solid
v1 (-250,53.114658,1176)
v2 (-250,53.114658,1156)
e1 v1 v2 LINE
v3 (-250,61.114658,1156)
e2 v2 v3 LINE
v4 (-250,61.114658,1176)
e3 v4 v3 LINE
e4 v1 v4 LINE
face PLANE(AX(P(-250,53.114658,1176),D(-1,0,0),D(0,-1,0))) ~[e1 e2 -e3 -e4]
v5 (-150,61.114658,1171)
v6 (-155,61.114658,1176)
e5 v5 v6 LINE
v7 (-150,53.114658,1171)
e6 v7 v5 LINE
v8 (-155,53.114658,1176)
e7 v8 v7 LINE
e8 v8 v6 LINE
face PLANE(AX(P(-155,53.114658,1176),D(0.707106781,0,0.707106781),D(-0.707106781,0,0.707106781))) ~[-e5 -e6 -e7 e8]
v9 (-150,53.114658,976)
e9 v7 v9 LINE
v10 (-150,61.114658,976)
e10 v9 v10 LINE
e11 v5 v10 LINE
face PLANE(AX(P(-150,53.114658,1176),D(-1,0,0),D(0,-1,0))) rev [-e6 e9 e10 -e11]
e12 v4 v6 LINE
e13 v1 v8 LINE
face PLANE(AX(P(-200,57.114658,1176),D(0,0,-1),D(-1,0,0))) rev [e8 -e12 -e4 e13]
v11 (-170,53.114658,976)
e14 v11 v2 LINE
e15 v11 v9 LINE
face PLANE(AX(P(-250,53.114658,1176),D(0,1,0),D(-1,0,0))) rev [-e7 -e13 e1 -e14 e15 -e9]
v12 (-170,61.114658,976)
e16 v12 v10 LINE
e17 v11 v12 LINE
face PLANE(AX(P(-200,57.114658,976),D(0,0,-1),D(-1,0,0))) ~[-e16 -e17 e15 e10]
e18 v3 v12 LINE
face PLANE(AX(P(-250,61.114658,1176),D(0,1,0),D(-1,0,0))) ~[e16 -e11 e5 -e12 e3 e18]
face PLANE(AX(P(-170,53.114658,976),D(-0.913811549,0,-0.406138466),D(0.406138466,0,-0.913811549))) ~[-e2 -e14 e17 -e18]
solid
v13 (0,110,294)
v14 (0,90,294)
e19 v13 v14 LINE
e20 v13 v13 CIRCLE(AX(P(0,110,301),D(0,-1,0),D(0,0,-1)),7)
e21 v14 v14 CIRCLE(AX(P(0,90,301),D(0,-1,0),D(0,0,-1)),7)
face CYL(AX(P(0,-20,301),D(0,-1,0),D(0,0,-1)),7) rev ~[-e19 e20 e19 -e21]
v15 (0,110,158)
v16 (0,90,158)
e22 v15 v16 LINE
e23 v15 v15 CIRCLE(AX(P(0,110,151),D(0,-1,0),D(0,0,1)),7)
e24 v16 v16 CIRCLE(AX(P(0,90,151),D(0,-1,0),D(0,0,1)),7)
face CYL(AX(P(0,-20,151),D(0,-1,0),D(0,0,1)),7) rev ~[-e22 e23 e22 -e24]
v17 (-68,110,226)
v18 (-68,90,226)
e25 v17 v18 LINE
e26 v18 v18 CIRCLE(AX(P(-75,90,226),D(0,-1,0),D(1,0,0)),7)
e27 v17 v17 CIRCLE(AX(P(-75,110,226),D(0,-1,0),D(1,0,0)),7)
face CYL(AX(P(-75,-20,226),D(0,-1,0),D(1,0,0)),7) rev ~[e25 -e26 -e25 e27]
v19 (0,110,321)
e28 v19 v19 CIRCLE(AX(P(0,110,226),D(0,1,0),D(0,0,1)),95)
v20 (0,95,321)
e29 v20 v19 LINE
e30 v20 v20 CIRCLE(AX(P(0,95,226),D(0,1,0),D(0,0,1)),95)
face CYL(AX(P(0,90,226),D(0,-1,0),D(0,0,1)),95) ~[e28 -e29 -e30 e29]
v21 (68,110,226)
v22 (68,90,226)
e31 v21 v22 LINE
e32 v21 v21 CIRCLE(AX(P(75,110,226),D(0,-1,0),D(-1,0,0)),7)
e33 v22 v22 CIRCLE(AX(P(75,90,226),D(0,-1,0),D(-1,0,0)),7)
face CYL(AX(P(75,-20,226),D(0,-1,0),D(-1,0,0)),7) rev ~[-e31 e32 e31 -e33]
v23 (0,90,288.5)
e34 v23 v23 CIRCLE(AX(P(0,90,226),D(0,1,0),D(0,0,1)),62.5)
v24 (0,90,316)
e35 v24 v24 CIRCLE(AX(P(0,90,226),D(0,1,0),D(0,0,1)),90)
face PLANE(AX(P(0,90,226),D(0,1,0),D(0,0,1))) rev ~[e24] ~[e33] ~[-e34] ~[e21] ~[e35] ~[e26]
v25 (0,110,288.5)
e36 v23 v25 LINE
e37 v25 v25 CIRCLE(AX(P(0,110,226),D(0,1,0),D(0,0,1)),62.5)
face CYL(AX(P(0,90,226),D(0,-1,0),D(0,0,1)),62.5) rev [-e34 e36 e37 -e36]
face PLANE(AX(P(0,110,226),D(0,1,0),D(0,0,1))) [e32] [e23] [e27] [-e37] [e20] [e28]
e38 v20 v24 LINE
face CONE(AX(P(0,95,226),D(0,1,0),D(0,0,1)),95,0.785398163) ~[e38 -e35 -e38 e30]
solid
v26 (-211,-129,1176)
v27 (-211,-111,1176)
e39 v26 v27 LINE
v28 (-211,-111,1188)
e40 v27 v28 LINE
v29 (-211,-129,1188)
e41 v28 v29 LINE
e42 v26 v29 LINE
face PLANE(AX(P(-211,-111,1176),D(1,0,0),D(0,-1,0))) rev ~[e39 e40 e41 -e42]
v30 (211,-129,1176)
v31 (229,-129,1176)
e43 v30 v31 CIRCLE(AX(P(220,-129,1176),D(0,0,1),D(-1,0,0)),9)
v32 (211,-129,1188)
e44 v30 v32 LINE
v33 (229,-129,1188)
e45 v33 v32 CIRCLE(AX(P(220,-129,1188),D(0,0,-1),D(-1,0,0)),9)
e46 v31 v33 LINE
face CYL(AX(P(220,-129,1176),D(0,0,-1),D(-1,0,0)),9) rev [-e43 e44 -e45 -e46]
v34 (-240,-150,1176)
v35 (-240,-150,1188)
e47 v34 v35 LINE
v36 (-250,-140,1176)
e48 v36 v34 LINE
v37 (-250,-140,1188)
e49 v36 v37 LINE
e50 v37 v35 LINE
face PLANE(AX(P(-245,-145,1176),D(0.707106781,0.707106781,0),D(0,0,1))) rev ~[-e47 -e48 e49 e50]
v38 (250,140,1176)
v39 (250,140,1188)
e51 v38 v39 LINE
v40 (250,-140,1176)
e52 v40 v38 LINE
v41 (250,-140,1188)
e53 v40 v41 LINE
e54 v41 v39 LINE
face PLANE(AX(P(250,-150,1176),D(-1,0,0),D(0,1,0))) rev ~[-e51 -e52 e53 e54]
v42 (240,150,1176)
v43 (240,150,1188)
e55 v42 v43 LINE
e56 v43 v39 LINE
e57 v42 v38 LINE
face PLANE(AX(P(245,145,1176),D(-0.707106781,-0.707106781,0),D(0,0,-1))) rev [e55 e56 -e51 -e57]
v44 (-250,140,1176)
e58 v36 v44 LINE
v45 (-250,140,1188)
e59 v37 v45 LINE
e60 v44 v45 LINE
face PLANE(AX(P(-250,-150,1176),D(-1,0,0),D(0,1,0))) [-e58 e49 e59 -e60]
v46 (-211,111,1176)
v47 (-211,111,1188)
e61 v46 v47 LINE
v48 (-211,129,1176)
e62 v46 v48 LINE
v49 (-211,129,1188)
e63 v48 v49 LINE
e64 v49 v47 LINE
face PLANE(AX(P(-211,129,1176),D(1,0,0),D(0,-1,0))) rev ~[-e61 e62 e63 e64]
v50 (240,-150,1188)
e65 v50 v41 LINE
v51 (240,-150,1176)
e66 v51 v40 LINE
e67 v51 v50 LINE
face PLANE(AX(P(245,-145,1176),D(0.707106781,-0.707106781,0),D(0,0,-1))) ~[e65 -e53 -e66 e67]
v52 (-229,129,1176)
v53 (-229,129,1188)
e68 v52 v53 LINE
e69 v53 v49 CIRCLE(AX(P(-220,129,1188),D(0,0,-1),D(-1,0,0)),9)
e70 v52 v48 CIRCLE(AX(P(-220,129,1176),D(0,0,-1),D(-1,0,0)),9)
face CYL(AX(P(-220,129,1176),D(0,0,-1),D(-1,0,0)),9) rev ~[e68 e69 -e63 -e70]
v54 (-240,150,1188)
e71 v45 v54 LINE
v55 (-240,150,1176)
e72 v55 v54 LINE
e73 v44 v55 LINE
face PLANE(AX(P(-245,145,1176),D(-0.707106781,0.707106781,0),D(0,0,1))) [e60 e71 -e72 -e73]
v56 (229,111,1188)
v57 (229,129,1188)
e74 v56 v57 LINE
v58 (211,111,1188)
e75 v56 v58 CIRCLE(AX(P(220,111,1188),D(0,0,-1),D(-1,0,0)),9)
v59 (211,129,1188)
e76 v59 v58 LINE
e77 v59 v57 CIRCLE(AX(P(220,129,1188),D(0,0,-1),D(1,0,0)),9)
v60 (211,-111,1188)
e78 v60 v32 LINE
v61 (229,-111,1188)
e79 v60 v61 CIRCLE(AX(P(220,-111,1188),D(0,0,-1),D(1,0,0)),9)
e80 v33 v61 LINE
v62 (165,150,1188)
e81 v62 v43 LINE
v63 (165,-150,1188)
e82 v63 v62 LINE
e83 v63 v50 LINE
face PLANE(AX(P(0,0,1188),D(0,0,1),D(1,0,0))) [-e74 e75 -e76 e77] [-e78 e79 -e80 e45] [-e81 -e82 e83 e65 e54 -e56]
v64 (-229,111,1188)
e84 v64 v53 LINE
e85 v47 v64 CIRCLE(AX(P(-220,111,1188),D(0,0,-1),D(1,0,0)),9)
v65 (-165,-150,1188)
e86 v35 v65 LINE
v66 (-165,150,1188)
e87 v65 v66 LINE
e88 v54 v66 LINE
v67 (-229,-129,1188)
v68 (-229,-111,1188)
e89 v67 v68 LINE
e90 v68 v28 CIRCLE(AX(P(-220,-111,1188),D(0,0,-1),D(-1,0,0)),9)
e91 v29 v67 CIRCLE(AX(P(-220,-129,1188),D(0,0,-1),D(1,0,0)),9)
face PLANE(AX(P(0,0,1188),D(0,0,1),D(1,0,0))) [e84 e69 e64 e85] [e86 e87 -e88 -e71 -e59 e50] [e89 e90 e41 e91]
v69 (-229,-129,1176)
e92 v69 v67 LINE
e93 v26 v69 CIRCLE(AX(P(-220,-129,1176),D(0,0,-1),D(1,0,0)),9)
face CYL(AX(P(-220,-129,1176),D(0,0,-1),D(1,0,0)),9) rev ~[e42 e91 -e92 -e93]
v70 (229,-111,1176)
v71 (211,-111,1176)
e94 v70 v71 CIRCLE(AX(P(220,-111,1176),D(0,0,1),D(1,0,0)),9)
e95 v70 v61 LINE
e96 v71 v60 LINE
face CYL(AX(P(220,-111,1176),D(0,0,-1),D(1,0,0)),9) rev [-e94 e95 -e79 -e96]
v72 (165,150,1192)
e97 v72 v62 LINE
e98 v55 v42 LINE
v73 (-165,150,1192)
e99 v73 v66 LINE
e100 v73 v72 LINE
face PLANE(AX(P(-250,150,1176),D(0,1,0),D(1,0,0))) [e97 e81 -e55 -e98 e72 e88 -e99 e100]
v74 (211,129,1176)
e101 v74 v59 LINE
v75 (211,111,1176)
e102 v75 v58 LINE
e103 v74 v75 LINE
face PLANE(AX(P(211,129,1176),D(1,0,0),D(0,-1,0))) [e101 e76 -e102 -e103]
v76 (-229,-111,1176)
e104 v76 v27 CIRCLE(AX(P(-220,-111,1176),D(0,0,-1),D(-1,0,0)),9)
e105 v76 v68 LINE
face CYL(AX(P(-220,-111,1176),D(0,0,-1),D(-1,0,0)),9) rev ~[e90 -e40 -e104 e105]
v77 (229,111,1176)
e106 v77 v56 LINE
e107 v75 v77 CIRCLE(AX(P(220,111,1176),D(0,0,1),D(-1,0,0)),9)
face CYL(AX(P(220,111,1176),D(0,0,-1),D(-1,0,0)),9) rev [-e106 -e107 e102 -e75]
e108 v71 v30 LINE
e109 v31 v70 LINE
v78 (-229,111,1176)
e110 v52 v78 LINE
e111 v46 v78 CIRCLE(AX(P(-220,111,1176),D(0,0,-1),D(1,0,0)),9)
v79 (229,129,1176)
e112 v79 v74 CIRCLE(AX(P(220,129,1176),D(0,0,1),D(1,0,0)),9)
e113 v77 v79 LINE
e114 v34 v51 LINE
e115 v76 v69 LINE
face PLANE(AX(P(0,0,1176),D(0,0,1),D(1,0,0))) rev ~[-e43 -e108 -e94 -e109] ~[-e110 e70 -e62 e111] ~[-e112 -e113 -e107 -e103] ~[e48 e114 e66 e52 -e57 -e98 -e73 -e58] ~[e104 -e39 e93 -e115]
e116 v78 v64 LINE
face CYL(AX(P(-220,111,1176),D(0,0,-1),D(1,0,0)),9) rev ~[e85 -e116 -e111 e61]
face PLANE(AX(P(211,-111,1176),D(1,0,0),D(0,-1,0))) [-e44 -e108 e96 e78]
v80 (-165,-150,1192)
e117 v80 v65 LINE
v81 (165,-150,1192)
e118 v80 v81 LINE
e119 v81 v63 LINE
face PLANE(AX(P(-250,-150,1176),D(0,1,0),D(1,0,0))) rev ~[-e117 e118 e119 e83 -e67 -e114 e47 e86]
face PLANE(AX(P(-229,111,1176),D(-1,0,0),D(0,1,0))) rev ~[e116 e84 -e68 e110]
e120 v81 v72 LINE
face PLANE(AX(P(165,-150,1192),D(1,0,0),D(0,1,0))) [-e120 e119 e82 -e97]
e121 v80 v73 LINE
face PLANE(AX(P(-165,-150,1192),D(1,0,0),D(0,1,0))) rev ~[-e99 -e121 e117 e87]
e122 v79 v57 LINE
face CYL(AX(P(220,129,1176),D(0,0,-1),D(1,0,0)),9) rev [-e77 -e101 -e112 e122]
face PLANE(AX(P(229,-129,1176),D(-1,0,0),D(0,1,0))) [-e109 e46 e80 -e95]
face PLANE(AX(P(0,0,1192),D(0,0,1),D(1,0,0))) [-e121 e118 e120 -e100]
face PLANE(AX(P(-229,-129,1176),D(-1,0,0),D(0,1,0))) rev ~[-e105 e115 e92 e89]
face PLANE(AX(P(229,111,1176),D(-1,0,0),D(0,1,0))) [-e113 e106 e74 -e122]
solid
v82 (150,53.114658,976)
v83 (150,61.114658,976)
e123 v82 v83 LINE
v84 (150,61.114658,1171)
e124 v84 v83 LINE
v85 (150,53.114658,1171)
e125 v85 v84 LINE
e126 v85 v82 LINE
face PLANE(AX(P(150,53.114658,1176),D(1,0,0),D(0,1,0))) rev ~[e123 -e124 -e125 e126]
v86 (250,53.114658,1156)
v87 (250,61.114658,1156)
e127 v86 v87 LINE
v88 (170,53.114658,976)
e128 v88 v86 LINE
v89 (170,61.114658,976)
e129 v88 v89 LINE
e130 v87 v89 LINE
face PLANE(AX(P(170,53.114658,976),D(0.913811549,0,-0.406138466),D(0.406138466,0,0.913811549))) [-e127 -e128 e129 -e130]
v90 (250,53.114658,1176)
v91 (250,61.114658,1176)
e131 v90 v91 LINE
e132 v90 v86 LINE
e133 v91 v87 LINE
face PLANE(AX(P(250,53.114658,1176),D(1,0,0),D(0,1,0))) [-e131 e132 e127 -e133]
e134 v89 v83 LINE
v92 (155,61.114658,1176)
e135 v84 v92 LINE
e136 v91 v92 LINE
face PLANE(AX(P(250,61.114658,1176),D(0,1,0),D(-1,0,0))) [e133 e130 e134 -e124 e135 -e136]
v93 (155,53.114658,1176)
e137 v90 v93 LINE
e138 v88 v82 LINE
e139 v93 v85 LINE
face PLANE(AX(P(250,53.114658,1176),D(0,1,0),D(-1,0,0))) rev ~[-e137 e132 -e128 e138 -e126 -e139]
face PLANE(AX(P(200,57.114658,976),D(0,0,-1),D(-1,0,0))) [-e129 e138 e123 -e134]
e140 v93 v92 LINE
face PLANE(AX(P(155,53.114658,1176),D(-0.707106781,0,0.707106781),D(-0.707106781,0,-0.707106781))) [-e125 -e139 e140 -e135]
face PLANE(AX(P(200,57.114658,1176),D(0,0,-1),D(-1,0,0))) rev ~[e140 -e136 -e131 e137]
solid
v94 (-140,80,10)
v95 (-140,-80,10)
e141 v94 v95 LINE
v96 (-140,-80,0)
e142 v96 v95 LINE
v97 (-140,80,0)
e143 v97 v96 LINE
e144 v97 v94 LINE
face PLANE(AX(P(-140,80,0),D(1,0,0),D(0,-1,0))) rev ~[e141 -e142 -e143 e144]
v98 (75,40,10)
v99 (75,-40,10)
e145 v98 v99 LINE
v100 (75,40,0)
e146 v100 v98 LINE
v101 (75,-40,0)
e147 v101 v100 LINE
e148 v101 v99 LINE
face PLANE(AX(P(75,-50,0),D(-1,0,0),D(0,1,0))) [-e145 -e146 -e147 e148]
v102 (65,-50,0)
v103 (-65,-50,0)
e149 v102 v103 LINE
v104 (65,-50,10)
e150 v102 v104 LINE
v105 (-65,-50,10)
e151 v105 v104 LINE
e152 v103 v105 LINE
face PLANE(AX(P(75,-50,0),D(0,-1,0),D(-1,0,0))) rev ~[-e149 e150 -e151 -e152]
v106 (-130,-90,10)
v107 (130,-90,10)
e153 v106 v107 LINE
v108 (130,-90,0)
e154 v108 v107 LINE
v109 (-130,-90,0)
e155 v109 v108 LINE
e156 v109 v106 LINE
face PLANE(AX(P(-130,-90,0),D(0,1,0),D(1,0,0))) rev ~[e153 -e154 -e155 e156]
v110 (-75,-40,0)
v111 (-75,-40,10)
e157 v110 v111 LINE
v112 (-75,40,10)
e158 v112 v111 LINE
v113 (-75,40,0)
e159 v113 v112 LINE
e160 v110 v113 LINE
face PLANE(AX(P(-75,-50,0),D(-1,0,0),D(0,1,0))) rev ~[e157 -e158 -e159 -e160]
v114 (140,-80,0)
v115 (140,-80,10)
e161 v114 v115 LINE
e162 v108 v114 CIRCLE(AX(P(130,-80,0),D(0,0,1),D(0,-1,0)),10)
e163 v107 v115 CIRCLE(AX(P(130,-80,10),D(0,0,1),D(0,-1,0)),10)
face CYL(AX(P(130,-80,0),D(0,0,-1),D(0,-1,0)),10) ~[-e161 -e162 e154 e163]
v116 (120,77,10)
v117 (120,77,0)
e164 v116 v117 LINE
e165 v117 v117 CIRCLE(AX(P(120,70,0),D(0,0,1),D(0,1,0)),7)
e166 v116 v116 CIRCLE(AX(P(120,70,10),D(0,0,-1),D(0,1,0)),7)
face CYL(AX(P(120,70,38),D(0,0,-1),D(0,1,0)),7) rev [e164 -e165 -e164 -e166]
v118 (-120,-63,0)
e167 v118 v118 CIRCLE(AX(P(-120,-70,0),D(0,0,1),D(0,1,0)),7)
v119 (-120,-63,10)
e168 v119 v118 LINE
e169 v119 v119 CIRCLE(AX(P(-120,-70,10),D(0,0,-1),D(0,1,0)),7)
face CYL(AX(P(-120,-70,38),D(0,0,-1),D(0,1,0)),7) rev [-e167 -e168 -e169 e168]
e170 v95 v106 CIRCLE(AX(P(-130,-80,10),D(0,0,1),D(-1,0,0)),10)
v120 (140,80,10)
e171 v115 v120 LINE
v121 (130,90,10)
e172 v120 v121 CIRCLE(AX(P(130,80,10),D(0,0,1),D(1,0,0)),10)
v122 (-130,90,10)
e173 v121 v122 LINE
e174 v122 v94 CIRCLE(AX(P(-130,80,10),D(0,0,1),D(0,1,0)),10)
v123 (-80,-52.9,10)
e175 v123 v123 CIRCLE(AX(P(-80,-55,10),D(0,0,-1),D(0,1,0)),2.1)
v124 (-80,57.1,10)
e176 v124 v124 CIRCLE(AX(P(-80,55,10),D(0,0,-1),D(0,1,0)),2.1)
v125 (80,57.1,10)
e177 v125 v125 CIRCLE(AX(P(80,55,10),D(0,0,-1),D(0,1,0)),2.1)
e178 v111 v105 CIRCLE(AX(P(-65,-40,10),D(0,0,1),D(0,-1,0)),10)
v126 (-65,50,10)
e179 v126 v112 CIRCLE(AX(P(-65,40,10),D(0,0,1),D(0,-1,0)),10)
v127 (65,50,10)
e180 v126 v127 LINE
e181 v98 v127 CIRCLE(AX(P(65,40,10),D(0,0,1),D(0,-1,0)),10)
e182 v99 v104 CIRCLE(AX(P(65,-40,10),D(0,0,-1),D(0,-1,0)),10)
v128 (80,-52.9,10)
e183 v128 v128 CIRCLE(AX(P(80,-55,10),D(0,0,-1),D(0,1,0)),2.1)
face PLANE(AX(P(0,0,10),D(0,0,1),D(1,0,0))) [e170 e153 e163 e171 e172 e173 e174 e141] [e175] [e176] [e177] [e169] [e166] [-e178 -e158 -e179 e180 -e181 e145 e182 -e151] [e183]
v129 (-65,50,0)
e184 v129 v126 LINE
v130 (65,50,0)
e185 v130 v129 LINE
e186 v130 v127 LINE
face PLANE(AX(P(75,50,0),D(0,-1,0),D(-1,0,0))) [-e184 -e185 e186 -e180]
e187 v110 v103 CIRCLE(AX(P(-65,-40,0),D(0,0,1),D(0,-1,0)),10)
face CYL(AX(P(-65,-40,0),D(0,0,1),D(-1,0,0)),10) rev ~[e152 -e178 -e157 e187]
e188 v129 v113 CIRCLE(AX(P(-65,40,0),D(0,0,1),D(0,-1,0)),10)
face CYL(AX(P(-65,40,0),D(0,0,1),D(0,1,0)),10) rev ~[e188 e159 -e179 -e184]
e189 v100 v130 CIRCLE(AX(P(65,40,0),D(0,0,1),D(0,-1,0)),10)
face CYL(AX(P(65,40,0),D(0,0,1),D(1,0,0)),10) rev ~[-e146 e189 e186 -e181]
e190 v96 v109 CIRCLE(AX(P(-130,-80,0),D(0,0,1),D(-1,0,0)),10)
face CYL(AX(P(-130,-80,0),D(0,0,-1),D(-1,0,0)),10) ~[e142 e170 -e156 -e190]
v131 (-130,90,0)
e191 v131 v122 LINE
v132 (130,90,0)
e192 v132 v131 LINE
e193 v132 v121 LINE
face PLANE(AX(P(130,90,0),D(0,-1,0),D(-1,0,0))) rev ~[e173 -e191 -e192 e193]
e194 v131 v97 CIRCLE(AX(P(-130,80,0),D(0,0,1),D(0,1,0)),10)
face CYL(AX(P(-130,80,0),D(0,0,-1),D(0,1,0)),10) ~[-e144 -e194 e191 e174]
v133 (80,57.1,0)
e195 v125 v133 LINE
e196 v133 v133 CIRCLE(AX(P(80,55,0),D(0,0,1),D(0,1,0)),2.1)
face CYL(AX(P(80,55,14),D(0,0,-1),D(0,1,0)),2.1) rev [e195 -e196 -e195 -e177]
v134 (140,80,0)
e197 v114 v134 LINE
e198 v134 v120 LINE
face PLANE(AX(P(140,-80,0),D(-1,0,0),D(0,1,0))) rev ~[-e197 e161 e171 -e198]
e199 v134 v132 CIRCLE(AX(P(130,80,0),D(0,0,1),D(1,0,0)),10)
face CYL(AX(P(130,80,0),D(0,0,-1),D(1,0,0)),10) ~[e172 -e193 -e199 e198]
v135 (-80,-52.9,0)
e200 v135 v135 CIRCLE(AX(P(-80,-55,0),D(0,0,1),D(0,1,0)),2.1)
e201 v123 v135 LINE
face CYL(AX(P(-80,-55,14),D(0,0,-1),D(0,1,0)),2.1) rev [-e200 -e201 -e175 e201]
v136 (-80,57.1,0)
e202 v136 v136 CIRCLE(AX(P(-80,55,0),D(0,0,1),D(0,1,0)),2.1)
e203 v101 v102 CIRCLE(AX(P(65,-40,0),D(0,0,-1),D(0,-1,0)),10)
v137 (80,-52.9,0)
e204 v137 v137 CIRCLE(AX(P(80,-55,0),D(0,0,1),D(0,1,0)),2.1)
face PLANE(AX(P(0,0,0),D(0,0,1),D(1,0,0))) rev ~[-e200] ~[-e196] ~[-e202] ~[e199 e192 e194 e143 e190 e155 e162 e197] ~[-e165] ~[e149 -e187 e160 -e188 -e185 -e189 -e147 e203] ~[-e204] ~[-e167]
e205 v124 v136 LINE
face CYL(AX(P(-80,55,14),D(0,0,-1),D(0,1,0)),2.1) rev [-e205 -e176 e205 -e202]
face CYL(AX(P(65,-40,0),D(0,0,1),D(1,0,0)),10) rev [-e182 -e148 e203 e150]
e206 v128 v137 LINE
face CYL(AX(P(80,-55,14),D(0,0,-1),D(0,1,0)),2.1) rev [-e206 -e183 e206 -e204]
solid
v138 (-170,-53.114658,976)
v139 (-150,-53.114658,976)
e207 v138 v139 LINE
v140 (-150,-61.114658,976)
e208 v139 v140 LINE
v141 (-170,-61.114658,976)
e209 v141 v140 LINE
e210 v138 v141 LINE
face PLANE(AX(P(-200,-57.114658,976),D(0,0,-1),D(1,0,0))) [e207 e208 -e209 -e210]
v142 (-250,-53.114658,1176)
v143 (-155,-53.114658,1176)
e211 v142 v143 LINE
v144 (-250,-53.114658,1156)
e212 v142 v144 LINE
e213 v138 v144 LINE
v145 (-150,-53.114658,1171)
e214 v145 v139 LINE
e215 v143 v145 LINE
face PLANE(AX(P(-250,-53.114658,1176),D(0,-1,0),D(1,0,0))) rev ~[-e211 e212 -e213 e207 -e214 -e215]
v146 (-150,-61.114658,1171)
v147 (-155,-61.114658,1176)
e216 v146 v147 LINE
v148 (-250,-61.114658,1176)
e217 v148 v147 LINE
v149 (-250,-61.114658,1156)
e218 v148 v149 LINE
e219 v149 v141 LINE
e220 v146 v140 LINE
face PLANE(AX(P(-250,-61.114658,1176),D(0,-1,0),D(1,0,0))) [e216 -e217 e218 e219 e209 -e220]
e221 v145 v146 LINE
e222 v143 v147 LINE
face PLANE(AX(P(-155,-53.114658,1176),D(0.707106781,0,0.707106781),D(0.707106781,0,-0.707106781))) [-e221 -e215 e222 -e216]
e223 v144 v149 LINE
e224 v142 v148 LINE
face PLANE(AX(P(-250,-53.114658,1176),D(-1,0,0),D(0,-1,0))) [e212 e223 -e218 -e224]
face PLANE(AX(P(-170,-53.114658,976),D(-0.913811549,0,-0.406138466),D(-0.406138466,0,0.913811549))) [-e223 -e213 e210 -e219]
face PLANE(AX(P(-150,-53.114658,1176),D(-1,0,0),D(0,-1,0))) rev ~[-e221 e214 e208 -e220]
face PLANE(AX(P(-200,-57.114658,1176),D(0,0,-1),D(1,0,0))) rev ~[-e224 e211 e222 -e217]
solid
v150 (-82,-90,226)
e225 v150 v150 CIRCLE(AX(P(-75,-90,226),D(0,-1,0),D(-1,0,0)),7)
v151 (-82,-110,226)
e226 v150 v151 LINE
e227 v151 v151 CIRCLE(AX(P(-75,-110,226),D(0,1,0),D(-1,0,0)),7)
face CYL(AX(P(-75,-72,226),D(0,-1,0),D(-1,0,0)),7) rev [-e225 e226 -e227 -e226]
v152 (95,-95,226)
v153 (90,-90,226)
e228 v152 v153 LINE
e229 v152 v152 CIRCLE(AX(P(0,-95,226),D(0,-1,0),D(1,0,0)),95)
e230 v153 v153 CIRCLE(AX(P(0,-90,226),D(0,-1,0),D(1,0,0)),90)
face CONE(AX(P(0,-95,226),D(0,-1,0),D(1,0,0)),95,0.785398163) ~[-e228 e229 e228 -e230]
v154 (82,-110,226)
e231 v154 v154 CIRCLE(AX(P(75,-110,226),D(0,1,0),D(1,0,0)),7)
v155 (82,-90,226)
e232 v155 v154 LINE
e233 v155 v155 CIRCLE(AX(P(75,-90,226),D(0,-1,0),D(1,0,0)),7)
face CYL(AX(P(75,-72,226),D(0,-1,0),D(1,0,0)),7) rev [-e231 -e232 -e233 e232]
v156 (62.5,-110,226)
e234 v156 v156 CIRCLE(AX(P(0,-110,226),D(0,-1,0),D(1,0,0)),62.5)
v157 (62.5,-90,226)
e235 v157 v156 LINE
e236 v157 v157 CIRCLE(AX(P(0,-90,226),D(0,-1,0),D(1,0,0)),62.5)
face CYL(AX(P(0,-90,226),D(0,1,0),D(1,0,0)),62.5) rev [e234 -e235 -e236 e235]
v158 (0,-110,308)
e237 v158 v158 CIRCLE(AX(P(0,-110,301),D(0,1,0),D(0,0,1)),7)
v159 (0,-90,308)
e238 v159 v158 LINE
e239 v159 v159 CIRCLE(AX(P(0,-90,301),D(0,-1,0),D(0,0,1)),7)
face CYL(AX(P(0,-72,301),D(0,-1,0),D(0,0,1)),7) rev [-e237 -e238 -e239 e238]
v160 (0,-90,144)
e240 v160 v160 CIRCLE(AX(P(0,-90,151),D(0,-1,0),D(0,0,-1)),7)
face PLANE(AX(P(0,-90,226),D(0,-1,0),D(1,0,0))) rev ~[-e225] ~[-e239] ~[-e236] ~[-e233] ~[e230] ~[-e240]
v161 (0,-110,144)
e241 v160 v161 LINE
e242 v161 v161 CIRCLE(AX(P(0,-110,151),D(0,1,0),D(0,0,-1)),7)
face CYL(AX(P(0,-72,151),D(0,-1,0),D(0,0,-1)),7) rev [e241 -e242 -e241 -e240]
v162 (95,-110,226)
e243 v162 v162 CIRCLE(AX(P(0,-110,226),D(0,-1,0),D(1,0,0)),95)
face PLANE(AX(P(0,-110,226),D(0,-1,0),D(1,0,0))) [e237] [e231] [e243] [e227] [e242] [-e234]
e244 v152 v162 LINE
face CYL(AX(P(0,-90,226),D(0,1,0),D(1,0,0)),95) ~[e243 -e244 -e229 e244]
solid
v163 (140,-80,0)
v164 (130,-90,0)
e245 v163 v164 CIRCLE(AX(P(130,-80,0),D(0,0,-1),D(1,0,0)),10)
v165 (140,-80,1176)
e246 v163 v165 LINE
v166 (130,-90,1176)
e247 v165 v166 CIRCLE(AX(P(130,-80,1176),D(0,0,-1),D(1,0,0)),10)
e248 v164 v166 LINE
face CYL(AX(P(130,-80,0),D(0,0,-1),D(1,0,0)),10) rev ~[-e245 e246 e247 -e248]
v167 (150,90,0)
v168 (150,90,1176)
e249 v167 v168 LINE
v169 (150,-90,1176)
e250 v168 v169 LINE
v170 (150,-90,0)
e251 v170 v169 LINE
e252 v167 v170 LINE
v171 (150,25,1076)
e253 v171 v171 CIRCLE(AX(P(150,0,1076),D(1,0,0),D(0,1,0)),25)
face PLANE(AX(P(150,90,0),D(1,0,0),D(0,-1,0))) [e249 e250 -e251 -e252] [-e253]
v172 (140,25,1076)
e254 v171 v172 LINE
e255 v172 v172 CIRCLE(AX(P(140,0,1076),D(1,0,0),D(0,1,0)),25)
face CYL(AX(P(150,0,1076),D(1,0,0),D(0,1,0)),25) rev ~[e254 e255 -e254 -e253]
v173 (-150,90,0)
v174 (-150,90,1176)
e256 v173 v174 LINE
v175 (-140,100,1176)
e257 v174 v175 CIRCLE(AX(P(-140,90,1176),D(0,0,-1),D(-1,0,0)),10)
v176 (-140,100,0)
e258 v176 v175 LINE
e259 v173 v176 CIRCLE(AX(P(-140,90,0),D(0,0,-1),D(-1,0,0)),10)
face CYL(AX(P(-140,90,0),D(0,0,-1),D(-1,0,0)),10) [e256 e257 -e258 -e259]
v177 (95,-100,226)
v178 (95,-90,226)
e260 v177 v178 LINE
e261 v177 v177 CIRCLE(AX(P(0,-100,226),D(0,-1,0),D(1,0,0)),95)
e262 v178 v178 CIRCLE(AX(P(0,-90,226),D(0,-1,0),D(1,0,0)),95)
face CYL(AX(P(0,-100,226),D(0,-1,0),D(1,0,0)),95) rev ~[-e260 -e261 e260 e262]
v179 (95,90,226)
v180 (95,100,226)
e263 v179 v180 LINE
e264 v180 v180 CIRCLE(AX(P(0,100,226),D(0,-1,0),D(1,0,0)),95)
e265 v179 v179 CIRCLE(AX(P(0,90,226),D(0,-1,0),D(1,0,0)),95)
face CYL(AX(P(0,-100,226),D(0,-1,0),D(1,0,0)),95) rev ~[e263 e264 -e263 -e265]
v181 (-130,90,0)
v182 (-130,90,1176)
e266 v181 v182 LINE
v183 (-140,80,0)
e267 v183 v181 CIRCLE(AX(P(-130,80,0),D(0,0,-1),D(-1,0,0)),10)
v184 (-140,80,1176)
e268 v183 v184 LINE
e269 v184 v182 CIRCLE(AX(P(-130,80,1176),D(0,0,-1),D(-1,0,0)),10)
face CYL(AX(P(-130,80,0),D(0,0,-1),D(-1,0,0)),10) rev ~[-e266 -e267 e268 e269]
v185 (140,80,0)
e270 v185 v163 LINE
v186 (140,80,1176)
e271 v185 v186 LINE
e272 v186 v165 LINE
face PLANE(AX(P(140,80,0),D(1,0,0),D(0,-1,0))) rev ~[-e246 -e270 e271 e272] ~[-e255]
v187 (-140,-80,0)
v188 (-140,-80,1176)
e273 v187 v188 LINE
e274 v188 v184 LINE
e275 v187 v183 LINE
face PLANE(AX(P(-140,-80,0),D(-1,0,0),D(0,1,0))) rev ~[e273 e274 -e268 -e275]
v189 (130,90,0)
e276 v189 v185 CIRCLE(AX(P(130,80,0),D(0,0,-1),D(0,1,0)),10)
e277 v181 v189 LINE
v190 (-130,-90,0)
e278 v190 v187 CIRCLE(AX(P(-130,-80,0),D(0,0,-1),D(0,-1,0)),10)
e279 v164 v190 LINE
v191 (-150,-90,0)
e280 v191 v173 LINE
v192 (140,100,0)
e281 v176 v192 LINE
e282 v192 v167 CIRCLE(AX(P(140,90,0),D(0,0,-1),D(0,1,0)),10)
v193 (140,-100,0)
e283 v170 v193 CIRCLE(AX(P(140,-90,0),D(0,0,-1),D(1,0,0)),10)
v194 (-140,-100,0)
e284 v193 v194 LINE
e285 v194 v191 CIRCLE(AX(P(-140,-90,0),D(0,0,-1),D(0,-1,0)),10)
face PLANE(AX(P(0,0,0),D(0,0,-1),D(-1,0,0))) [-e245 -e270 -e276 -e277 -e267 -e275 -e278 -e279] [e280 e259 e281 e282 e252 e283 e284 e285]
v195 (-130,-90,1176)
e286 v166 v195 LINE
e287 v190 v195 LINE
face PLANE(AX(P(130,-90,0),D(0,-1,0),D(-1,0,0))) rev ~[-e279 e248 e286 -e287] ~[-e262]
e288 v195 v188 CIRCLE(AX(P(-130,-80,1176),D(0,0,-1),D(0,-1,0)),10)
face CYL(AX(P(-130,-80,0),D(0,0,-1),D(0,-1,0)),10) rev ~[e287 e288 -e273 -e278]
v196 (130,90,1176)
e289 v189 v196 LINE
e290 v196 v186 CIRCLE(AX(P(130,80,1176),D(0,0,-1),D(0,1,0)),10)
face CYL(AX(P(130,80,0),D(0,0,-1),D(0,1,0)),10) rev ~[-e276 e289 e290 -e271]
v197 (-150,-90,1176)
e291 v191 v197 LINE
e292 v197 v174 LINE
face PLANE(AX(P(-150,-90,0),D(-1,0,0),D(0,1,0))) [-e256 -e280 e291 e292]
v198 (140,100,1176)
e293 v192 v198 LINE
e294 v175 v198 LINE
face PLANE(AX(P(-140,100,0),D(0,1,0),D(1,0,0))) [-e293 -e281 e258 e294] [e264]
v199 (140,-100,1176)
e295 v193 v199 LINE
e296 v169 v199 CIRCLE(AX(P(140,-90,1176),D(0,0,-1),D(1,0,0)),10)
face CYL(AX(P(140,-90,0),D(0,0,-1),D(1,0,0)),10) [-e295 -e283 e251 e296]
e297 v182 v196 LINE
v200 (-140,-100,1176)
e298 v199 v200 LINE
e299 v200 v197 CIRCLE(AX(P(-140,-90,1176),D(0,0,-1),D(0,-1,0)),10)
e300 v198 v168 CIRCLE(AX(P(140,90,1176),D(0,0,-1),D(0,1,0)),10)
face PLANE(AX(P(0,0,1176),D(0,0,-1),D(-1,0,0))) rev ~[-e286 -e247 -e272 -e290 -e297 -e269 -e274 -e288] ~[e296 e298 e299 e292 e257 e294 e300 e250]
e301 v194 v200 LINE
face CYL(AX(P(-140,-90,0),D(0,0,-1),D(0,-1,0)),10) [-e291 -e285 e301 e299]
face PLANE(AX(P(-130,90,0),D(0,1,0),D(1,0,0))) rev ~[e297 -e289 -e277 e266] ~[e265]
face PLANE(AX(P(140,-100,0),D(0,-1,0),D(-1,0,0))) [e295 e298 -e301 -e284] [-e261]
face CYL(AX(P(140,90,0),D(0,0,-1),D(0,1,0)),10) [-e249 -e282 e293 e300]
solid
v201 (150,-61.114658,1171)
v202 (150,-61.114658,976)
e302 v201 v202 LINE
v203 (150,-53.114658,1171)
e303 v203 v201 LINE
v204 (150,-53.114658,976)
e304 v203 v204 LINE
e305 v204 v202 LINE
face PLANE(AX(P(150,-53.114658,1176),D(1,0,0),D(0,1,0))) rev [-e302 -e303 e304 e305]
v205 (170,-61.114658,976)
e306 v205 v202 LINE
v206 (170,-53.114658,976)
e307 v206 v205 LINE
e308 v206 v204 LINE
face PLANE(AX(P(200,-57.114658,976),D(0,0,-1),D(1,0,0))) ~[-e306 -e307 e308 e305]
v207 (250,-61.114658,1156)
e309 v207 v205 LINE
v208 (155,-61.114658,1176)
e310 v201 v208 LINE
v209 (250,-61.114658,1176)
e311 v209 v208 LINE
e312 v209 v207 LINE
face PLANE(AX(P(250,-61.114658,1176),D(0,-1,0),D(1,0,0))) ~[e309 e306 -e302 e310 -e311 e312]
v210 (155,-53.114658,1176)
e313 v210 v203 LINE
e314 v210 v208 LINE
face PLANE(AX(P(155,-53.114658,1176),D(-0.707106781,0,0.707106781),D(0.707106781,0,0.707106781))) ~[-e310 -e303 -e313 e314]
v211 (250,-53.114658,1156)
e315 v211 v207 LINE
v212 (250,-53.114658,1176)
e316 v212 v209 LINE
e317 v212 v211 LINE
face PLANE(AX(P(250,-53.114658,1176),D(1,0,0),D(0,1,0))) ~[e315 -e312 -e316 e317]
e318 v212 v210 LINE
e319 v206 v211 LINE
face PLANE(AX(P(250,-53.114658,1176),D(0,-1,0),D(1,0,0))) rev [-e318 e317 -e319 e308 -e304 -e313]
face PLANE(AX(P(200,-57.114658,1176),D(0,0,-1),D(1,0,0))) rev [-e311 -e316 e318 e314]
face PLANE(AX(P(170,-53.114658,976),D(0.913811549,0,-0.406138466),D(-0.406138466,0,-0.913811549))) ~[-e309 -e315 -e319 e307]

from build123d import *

# Parameters (mm, degrees)
EXTRUDE_1_DEPTH              = 1176
SKETCH_2_W                   = 500
SKETCH_2_H                   = 300
EXTRUDE_2_DEPTH              = 16
SKETCH_4_R                   = 95
CUT_EXTRUDE_2_DEPTH          = 1244.32779266
EXTRUDE_3_DEPTH              = 10
EXTRUDE_3_DEPTH_BACK         = 10
SKETCH_5_R                   = 95
SKETCH_5_R_2                 = 62.5
EXTRUDE_4_DEPTH              = 10
EXTRUDE_4_DEPTH_BACK         = 10
SKETCH_6_R                   = 95
SKETCH_6_R_2                 = 62.5
SKETCH_7_W                   = 7
SKETCH_7_H                   = 260
PATTERN_CIRCULAR_1_COUNT     = 4
PATTERN_CIRCULAR_2_COUNT     = 4
CHAMFER_1_SIZE               = 5
CHAMFER_2_SIZE               = 5
SKETCH_11_OUTSIDE_W          = 767.396
SKETCH_11_OUTSIDE_H          = 567.396
SKETCH_11_OUTSIDE_W_2        = 330
SKETCH_11_OUTSIDE_H_2        = 300
CUT_EXTRUDE_3_DEPTH          = 4
CHAMFER_3_SIZE               = 10
SKETCH_12_W                  = 100
SKETCH_12_H                  = 8
EXTRUDE_5_DEPTH              = 200
CUT_EXTRUDE_4_DEPTH          = 1235.754860001
EXTRUDE_6_DEPTH              = 10
HOLE_WIZARD_M16_3_AT_2_COUNT = 2
HOLE_WIZARD_M16_3_AT_2_PITCH = 277.848879789
SKETCH_19_W                  = 150
SKETCH_19_H                  = 100
CUT_EXTRUDE_5_DEPTH          = 20
SKETCH_20_R                  = 25
CUT_EXTRUDE_6_DEPTH          = 10
FILLET_1_R                   = 10
HOLE_WIZARD_M5_1_AT_2_COUNT  = 2
HOLE_WIZARD_M5_1_AT_2_PITCH  = 110
HOLE_WIZARD_M5_1_AT_3_COUNT  = 2
HOLE_WIZARD_M5_1_AT_3_PITCH  = 194.164878389
HOLE_WIZARD_M5_1_AT_4_COUNT  = 2
HOLE_WIZARD_M5_1_AT_4_PITCH  = 160
SKETCH_23_R                  = 9
CUT_EXTRUDE_7_DEPTH          = 1212.600594255
CUT_EXTRUDE_8_DEPTH          = 1212.600594255


with BuildPart() as part:
    # 草图1 → 凸台-拉伸1 (new body)
    with BuildSketch(Plane.XY):
        with BuildLine():
            Line((-140, 100), (140, 100))
            ThreePointArc((140, 100), (147.071067812, 97.071067812), (150, 90))
            Line((150, 90), (150, -90))
            ThreePointArc((150, -90), (147.071067812, -97.071067812), (140, -100))
            Line((140, -100), (-140, -100))
            ThreePointArc((-140, -100), (-147.071067812, -97.071067812), (-150, -90))
            Line((-150, -90), (-150, 90))
            ThreePointArc((-150, 90), (-147.071067812, 97.071067812), (-140, 100))
        make_face()
        with BuildLine():
            Line((-130, 90), (130, 90))
            ThreePointArc((130, 90), (137.071067812, 87.071067812), (140, 80))
            Line((140, 80), (140, -80))
            ThreePointArc((140, -80), (137.071067812, -87.071067812), (130, -90))
            Line((130, -90), (-130, -90))
            ThreePointArc((-130, -90), (-137.071067812, -87.071067812), (-140, -80))
            Line((-140, -80), (-140, 80))
            ThreePointArc((-140, 80), (-137.071067812, 87.071067812), (-130, 90))
        make_face(mode=Mode.SUBTRACT)
    extrude(amount=EXTRUDE_1_DEPTH)

    # 草图4 → 切除-拉伸2 (cut, through all)
    with BuildSketch(Plane.XZ.offset(100)):
        with Locations((0, 226)):
            Circle(SKETCH_4_R)
    extrude(amount=-CUT_EXTRUDE_2_DEPTH, mode=Mode.SUBTRACT)

    # 草图20 → 切除-拉伸6 (cut)
    with BuildSketch(Plane(origin=(150, 0, 0), x_dir=(0, 0, -1), z_dir=(1, 0, 0))):
        with Locations(Location((-1076, 0, 0), (0, 0, 90))):
            Circle(SKETCH_20_R)
    extrude(amount=-CUT_EXTRUDE_6_DEPTH, mode=Mode.SUBTRACT)


with BuildPart() as body_2:
    # 草图2 → 凸台-拉伸2 (new body)
    with BuildSketch(Plane.XY.offset(1176)):
        Rectangle(SKETCH_2_W, SKETCH_2_H)
    extrude(amount=EXTRUDE_2_DEPTH)

    # 草图11 outside → 切除-拉伸3 (cut)
    with BuildSketch(Plane.XY.offset(1192)):
        Rectangle(SKETCH_11_OUTSIDE_W, SKETCH_11_OUTSIDE_H)
        Rectangle(SKETCH_11_OUTSIDE_W_2, SKETCH_11_OUTSIDE_H_2, mode=Mode.SUBTRACT)
    extrude(amount=-CUT_EXTRUDE_3_DEPTH, mode=Mode.SUBTRACT)

    # 倒角3
    chamfer_3_edges = [body_2.edges().sort_by_distance(p)[0] for p in [
        (-250, 150, 1182),
        (250, 150, 1182),
        (250, -150, 1182),
        (-250, -150, 1182),
    ]]
    chamfer(chamfer_3_edges, length=CHAMFER_3_SIZE)

    # 草图23 → 切除-拉伸7 (cut, through all)
    with BuildSketch(Plane(origin=(0, 0, 1176), x_dir=(-1, 0, 0), z_dir=(0, 0, -1))):
        with Locations((-220, 120)):
            Circle(SKETCH_23_R)
        with Locations((-220, -120)):
            Circle(SKETCH_23_R)
        with Locations((220, -120)):
            Circle(SKETCH_23_R)
        with Locations((220, 120)):
            Circle(SKETCH_23_R)
    extrude(amount=-CUT_EXTRUDE_7_DEPTH, mode=Mode.SUBTRACT)

    # 草图24 → 切除-拉伸8 (cut, through all)
    with BuildSketch(Plane(origin=(0, 0, 1176), x_dir=(-1, 0, 0), z_dir=(0, 0, -1))):
        with BuildLine():
            Line((-211, 129), (-211, 111))
            ThreePointArc((-211, 111), (-220, 102), (-229, 111))
            Line((-229, 111), (-229, 129))
            ThreePointArc((-229, 129), (-220, 138), (-211, 129))
        make_face()
        with BuildLine():
            Line((-211, -111), (-211, -129))
            ThreePointArc((-211, -129), (-220, -138), (-229, -129))
            Line((-229, -129), (-229, -111))
            ThreePointArc((-229, -111), (-220, -102), (-211, -111))
        make_face()
        with BuildLine():
            Line((211, 129), (211, 111))
            ThreePointArc((211, 111), (220, 102), (229, 111))
            Line((229, 111), (229, 129))
            ThreePointArc((229, 129), (220, 138), (211, 129))
        make_face()
        with BuildLine():
            Line((211, -111), (211, -129))
            ThreePointArc((211, -129), (220, -138), (229, -129))
            Line((229, -129), (229, -111))
            ThreePointArc((229, -111), (220, -102), (211, -111))
        make_face()
    extrude(amount=-CUT_EXTRUDE_8_DEPTH, mode=Mode.SUBTRACT)


with BuildPart() as body_3:
    # 草图5 → 凸台-拉伸3 (new, two sides: drawn at the far end of the back side and taken through both)
    with BuildSketch(Plane.XZ.offset(100).offset(-EXTRUDE_3_DEPTH_BACK)):
        with Locations((0, 226)):
            Circle(SKETCH_5_R)
        with Locations((0, 226)):
            Circle(SKETCH_5_R_2, mode=Mode.SUBTRACT)
    extrude(amount=EXTRUDE_3_DEPTH + EXTRUDE_3_DEPTH_BACK)

    # 草图9 → M16 螺纹孔2 (revolve, cut)
    with BuildSketch(Plane(origin=(0, -110, 151), x_dir=(0, 0, -1), z_dir=(1, 0, 0))):
        Polygon((0, 0), (0, 42.206024333), (7, 38), (7, 0), align=None)
    hole_wizard_m16_2 = revolve(axis=Axis((0, -116.35, 151), (0, 1, 0)), mode=Mode.SUBTRACT)

    # 阵列(圆周)2: M16 螺纹孔2 ×4 about axis
    pattern_circular_2_axis = Axis((0, 0, 226), (0, 1, 0))
    for i in range(1, PATTERN_CIRCULAR_2_COUNT):
        add(hole_wizard_m16_2.rotate(pattern_circular_2_axis, i * 360 / PATTERN_CIRCULAR_2_COUNT), mode=Mode.SUBTRACT)

    # 倒角1
    chamfer_1_edges = [body_3.edges().sort_by_distance(p)[0] for p in [
        (-95, -90, 226),
    ]]
    chamfer(chamfer_1_edges, length=CHAMFER_1_SIZE)


with BuildPart() as body_4:
    # 草图6 → 凸台-拉伸4 (new, two sides: drawn at the far end of the back side and taken through both)
    with BuildSketch(Plane(origin=(0, 100, 0), x_dir=(1, 0, 0), z_dir=(0, 1, 0)).offset(-EXTRUDE_4_DEPTH_BACK)):
        with Locations(Location((0, -226, 0), (0, 0, 270))):
            Circle(SKETCH_6_R)
        with Locations(Location((0, -226, 0), (0, 0, 270))):
            Circle(SKETCH_6_R_2, mode=Mode.SUBTRACT)
    extrude(amount=EXTRUDE_4_DEPTH + EXTRUDE_4_DEPTH_BACK)

    # 草图7 → M16 螺纹孔1 (revolve, cut)
    with BuildSketch(Plane(origin=(0, 110, 151), x_dir=(0, 0, 1), z_dir=(1, 0, 0))):
        with Locations((3.5, 130)):
            Rectangle(SKETCH_7_W, SKETCH_7_H)
    hole_wizard_m16_1 = revolve(axis=Axis((0, 116.35, 151), (0, -1, 0)), mode=Mode.SUBTRACT)

    # 阵列(圆周)1: M16 螺纹孔1 ×4 about axis
    pattern_circular_1_axis = Axis((0, 0, 226), (0, 1, 0))
    for i in range(1, PATTERN_CIRCULAR_1_COUNT):
        add(hole_wizard_m16_1.rotate(pattern_circular_1_axis, i * 360 / PATTERN_CIRCULAR_1_COUNT), mode=Mode.SUBTRACT)

    # 倒角2
    chamfer_2_edges = [body_4.edges().sort_by_distance(p)[0] for p in [
        (0, 90, 131),
    ]]
    chamfer(chamfer_2_edges, length=CHAMFER_2_SIZE)


with BuildPart() as body_5:
    # 草图12 → 凸台-拉伸5 (new body)
    with BuildSketch(Plane(origin=(0, 0, 1176), x_dir=(-1, 0, 0), z_dir=(0, 0, -1))):
        with Locations((-200, 57.114658006)):
            Rectangle(SKETCH_12_W, SKETCH_12_H)
    extrude(amount=EXTRUDE_5_DEPTH)

    # 草图13 → 切除-拉伸4 (cut, through all)
    with BuildSketch(Plane.XZ.offset(-53.114658006)):
        Polygon((150, 1176), (155, 1176), (150, 1171), align=None)
        Polygon((250, 1156), (250, 976), (170, 976), align=None)
    extrude(amount=-CUT_EXTRUDE_4_DEPTH, mode=Mode.SUBTRACT)


with BuildPart() as body_6:
    # 镜向1: mirrored copy
    add(body_5.part.mirror(Plane.ZX))


with BuildPart() as body_7:
    # 镜向2: mirrored copy
    add(body_6.part.mirror(Plane(origin=(0, 0, 0), x_dir=(0, 0, 1), z_dir=(1, 0, 0))))


with BuildPart() as body_8:
    # Mirror 2 2: mirrored copy
    add(body_5.part.mirror(Plane(origin=(0, 0, 0), x_dir=(0, 0, 1), z_dir=(1, 0, 0))))


with BuildPart() as body_9:
    # 草图16 → 凸台-拉伸6 (new body)
    with BuildSketch(Plane(origin=(0, 0, 0), x_dir=(-1, 0, 0), z_dir=(0, 0, -1))):
        with BuildLine():
            Line((130, -90), (-130, -90))
            ThreePointArc((-130, -90), (-137.071067812, -87.071067812), (-140, -80))
            Line((-140, -80), (-140, 80))
            ThreePointArc((-140, 80), (-137.071067812, 87.071067812), (-130, 90))
            Line((-130, 90), (130, 90))
            ThreePointArc((130, 90), (137.071067812, 87.071067812), (140, 80))
            Line((140, 80), (140, -80))
            ThreePointArc((140, -80), (137.071067812, -87.071067812), (130, -90))
        make_face()
    extrude(amount=-EXTRUDE_6_DEPTH)

    # 草图17 → M16 螺纹孔3 (revolve, cut)
    with BuildSketch(Plane(origin=(-120, -70, 0), x_dir=(0, 1, 0), z_dir=(1, 0, 0))):
        Polygon((0, 0), (0, 42.206024333), (7, 38), (7, 0), align=None)
    hole_wizard_m16_3 = revolve(axis=Axis((-120, -70, -6.35), (0, 0, 1)), mode=Mode.SUBTRACT)

    # M16 螺纹孔3 at 2: M16 螺纹孔3 ×2
    with Locations(*[Vector(0.8637789008984335, 0.5038710255240861, 0) * (i * HOLE_WIZARD_M16_3_AT_2_PITCH) for i in range(1, HOLE_WIZARD_M16_3_AT_2_COUNT)]):
        add(hole_wizard_m16_3, mode=Mode.SUBTRACT)

    # 草图19 → 切除-拉伸5 (cut)
    with BuildSketch(Plane(origin=(0, 0, 0), x_dir=(-1, 0, 0), z_dir=(0, 0, -1))):
        Rectangle(SKETCH_19_W, SKETCH_19_H)
    extrude(amount=-CUT_EXTRUDE_5_DEPTH, mode=Mode.SUBTRACT)

    # 圆角1
    fillet_1_edges = [body_9.edges().sort_by_distance(p)[0] for p in [
        (-75, 50, 5),
        (-75, -50, 5),
        (75, -50, 5),
        (75, 50, 5),
    ]]
    fillet(fillet_1_edges, radius=FILLET_1_R)

    # 草图21 → M5 螺纹孔1 (revolve, cut)
    with BuildSketch(Plane(origin=(-80, 55, 0), x_dir=(0, 1, 0), z_dir=(1, 0, 0))):
        Polygon((0, 0), (0, 15.2618073), (2.1, 14), (2.1, 0), align=None)
    hole_wizard_m5_1 = revolve(axis=Axis((-80, 55, -6.35), (0, 0, 1)), mode=Mode.SUBTRACT)

    # M5 螺纹孔1 at 2: M5 螺纹孔1 ×2
    with Locations(*[(0, -i * HOLE_WIZARD_M5_1_AT_2_PITCH, 0) for i in range(1, HOLE_WIZARD_M5_1_AT_2_COUNT)]):
        add(hole_wizard_m5_1, mode=Mode.SUBTRACT)

    # M5 螺纹孔1 at 3: M5 螺纹孔1 ×2
    with Locations(*[Vector(0.8240419241993676, -0.5665288228870652, 0) * (i * HOLE_WIZARD_M5_1_AT_3_PITCH) for i in range(1, HOLE_WIZARD_M5_1_AT_3_COUNT)]):
        add(hole_wizard_m5_1, mode=Mode.SUBTRACT)

    # M5 螺纹孔1 at 4: M5 螺纹孔1 ×2
    with Locations(*[(i * HOLE_WIZARD_M5_1_AT_4_PITCH, 0, 0) for i in range(1, HOLE_WIZARD_M5_1_AT_4_COUNT)]):
        add(hole_wizard_m5_1, mode=Mode.SUBTRACT)


solid = Compound([part.part, body_2.part, body_3.part, body_4.part, body_5.part, body_6.part, body_7.part, body_8.part, body_9.part])
